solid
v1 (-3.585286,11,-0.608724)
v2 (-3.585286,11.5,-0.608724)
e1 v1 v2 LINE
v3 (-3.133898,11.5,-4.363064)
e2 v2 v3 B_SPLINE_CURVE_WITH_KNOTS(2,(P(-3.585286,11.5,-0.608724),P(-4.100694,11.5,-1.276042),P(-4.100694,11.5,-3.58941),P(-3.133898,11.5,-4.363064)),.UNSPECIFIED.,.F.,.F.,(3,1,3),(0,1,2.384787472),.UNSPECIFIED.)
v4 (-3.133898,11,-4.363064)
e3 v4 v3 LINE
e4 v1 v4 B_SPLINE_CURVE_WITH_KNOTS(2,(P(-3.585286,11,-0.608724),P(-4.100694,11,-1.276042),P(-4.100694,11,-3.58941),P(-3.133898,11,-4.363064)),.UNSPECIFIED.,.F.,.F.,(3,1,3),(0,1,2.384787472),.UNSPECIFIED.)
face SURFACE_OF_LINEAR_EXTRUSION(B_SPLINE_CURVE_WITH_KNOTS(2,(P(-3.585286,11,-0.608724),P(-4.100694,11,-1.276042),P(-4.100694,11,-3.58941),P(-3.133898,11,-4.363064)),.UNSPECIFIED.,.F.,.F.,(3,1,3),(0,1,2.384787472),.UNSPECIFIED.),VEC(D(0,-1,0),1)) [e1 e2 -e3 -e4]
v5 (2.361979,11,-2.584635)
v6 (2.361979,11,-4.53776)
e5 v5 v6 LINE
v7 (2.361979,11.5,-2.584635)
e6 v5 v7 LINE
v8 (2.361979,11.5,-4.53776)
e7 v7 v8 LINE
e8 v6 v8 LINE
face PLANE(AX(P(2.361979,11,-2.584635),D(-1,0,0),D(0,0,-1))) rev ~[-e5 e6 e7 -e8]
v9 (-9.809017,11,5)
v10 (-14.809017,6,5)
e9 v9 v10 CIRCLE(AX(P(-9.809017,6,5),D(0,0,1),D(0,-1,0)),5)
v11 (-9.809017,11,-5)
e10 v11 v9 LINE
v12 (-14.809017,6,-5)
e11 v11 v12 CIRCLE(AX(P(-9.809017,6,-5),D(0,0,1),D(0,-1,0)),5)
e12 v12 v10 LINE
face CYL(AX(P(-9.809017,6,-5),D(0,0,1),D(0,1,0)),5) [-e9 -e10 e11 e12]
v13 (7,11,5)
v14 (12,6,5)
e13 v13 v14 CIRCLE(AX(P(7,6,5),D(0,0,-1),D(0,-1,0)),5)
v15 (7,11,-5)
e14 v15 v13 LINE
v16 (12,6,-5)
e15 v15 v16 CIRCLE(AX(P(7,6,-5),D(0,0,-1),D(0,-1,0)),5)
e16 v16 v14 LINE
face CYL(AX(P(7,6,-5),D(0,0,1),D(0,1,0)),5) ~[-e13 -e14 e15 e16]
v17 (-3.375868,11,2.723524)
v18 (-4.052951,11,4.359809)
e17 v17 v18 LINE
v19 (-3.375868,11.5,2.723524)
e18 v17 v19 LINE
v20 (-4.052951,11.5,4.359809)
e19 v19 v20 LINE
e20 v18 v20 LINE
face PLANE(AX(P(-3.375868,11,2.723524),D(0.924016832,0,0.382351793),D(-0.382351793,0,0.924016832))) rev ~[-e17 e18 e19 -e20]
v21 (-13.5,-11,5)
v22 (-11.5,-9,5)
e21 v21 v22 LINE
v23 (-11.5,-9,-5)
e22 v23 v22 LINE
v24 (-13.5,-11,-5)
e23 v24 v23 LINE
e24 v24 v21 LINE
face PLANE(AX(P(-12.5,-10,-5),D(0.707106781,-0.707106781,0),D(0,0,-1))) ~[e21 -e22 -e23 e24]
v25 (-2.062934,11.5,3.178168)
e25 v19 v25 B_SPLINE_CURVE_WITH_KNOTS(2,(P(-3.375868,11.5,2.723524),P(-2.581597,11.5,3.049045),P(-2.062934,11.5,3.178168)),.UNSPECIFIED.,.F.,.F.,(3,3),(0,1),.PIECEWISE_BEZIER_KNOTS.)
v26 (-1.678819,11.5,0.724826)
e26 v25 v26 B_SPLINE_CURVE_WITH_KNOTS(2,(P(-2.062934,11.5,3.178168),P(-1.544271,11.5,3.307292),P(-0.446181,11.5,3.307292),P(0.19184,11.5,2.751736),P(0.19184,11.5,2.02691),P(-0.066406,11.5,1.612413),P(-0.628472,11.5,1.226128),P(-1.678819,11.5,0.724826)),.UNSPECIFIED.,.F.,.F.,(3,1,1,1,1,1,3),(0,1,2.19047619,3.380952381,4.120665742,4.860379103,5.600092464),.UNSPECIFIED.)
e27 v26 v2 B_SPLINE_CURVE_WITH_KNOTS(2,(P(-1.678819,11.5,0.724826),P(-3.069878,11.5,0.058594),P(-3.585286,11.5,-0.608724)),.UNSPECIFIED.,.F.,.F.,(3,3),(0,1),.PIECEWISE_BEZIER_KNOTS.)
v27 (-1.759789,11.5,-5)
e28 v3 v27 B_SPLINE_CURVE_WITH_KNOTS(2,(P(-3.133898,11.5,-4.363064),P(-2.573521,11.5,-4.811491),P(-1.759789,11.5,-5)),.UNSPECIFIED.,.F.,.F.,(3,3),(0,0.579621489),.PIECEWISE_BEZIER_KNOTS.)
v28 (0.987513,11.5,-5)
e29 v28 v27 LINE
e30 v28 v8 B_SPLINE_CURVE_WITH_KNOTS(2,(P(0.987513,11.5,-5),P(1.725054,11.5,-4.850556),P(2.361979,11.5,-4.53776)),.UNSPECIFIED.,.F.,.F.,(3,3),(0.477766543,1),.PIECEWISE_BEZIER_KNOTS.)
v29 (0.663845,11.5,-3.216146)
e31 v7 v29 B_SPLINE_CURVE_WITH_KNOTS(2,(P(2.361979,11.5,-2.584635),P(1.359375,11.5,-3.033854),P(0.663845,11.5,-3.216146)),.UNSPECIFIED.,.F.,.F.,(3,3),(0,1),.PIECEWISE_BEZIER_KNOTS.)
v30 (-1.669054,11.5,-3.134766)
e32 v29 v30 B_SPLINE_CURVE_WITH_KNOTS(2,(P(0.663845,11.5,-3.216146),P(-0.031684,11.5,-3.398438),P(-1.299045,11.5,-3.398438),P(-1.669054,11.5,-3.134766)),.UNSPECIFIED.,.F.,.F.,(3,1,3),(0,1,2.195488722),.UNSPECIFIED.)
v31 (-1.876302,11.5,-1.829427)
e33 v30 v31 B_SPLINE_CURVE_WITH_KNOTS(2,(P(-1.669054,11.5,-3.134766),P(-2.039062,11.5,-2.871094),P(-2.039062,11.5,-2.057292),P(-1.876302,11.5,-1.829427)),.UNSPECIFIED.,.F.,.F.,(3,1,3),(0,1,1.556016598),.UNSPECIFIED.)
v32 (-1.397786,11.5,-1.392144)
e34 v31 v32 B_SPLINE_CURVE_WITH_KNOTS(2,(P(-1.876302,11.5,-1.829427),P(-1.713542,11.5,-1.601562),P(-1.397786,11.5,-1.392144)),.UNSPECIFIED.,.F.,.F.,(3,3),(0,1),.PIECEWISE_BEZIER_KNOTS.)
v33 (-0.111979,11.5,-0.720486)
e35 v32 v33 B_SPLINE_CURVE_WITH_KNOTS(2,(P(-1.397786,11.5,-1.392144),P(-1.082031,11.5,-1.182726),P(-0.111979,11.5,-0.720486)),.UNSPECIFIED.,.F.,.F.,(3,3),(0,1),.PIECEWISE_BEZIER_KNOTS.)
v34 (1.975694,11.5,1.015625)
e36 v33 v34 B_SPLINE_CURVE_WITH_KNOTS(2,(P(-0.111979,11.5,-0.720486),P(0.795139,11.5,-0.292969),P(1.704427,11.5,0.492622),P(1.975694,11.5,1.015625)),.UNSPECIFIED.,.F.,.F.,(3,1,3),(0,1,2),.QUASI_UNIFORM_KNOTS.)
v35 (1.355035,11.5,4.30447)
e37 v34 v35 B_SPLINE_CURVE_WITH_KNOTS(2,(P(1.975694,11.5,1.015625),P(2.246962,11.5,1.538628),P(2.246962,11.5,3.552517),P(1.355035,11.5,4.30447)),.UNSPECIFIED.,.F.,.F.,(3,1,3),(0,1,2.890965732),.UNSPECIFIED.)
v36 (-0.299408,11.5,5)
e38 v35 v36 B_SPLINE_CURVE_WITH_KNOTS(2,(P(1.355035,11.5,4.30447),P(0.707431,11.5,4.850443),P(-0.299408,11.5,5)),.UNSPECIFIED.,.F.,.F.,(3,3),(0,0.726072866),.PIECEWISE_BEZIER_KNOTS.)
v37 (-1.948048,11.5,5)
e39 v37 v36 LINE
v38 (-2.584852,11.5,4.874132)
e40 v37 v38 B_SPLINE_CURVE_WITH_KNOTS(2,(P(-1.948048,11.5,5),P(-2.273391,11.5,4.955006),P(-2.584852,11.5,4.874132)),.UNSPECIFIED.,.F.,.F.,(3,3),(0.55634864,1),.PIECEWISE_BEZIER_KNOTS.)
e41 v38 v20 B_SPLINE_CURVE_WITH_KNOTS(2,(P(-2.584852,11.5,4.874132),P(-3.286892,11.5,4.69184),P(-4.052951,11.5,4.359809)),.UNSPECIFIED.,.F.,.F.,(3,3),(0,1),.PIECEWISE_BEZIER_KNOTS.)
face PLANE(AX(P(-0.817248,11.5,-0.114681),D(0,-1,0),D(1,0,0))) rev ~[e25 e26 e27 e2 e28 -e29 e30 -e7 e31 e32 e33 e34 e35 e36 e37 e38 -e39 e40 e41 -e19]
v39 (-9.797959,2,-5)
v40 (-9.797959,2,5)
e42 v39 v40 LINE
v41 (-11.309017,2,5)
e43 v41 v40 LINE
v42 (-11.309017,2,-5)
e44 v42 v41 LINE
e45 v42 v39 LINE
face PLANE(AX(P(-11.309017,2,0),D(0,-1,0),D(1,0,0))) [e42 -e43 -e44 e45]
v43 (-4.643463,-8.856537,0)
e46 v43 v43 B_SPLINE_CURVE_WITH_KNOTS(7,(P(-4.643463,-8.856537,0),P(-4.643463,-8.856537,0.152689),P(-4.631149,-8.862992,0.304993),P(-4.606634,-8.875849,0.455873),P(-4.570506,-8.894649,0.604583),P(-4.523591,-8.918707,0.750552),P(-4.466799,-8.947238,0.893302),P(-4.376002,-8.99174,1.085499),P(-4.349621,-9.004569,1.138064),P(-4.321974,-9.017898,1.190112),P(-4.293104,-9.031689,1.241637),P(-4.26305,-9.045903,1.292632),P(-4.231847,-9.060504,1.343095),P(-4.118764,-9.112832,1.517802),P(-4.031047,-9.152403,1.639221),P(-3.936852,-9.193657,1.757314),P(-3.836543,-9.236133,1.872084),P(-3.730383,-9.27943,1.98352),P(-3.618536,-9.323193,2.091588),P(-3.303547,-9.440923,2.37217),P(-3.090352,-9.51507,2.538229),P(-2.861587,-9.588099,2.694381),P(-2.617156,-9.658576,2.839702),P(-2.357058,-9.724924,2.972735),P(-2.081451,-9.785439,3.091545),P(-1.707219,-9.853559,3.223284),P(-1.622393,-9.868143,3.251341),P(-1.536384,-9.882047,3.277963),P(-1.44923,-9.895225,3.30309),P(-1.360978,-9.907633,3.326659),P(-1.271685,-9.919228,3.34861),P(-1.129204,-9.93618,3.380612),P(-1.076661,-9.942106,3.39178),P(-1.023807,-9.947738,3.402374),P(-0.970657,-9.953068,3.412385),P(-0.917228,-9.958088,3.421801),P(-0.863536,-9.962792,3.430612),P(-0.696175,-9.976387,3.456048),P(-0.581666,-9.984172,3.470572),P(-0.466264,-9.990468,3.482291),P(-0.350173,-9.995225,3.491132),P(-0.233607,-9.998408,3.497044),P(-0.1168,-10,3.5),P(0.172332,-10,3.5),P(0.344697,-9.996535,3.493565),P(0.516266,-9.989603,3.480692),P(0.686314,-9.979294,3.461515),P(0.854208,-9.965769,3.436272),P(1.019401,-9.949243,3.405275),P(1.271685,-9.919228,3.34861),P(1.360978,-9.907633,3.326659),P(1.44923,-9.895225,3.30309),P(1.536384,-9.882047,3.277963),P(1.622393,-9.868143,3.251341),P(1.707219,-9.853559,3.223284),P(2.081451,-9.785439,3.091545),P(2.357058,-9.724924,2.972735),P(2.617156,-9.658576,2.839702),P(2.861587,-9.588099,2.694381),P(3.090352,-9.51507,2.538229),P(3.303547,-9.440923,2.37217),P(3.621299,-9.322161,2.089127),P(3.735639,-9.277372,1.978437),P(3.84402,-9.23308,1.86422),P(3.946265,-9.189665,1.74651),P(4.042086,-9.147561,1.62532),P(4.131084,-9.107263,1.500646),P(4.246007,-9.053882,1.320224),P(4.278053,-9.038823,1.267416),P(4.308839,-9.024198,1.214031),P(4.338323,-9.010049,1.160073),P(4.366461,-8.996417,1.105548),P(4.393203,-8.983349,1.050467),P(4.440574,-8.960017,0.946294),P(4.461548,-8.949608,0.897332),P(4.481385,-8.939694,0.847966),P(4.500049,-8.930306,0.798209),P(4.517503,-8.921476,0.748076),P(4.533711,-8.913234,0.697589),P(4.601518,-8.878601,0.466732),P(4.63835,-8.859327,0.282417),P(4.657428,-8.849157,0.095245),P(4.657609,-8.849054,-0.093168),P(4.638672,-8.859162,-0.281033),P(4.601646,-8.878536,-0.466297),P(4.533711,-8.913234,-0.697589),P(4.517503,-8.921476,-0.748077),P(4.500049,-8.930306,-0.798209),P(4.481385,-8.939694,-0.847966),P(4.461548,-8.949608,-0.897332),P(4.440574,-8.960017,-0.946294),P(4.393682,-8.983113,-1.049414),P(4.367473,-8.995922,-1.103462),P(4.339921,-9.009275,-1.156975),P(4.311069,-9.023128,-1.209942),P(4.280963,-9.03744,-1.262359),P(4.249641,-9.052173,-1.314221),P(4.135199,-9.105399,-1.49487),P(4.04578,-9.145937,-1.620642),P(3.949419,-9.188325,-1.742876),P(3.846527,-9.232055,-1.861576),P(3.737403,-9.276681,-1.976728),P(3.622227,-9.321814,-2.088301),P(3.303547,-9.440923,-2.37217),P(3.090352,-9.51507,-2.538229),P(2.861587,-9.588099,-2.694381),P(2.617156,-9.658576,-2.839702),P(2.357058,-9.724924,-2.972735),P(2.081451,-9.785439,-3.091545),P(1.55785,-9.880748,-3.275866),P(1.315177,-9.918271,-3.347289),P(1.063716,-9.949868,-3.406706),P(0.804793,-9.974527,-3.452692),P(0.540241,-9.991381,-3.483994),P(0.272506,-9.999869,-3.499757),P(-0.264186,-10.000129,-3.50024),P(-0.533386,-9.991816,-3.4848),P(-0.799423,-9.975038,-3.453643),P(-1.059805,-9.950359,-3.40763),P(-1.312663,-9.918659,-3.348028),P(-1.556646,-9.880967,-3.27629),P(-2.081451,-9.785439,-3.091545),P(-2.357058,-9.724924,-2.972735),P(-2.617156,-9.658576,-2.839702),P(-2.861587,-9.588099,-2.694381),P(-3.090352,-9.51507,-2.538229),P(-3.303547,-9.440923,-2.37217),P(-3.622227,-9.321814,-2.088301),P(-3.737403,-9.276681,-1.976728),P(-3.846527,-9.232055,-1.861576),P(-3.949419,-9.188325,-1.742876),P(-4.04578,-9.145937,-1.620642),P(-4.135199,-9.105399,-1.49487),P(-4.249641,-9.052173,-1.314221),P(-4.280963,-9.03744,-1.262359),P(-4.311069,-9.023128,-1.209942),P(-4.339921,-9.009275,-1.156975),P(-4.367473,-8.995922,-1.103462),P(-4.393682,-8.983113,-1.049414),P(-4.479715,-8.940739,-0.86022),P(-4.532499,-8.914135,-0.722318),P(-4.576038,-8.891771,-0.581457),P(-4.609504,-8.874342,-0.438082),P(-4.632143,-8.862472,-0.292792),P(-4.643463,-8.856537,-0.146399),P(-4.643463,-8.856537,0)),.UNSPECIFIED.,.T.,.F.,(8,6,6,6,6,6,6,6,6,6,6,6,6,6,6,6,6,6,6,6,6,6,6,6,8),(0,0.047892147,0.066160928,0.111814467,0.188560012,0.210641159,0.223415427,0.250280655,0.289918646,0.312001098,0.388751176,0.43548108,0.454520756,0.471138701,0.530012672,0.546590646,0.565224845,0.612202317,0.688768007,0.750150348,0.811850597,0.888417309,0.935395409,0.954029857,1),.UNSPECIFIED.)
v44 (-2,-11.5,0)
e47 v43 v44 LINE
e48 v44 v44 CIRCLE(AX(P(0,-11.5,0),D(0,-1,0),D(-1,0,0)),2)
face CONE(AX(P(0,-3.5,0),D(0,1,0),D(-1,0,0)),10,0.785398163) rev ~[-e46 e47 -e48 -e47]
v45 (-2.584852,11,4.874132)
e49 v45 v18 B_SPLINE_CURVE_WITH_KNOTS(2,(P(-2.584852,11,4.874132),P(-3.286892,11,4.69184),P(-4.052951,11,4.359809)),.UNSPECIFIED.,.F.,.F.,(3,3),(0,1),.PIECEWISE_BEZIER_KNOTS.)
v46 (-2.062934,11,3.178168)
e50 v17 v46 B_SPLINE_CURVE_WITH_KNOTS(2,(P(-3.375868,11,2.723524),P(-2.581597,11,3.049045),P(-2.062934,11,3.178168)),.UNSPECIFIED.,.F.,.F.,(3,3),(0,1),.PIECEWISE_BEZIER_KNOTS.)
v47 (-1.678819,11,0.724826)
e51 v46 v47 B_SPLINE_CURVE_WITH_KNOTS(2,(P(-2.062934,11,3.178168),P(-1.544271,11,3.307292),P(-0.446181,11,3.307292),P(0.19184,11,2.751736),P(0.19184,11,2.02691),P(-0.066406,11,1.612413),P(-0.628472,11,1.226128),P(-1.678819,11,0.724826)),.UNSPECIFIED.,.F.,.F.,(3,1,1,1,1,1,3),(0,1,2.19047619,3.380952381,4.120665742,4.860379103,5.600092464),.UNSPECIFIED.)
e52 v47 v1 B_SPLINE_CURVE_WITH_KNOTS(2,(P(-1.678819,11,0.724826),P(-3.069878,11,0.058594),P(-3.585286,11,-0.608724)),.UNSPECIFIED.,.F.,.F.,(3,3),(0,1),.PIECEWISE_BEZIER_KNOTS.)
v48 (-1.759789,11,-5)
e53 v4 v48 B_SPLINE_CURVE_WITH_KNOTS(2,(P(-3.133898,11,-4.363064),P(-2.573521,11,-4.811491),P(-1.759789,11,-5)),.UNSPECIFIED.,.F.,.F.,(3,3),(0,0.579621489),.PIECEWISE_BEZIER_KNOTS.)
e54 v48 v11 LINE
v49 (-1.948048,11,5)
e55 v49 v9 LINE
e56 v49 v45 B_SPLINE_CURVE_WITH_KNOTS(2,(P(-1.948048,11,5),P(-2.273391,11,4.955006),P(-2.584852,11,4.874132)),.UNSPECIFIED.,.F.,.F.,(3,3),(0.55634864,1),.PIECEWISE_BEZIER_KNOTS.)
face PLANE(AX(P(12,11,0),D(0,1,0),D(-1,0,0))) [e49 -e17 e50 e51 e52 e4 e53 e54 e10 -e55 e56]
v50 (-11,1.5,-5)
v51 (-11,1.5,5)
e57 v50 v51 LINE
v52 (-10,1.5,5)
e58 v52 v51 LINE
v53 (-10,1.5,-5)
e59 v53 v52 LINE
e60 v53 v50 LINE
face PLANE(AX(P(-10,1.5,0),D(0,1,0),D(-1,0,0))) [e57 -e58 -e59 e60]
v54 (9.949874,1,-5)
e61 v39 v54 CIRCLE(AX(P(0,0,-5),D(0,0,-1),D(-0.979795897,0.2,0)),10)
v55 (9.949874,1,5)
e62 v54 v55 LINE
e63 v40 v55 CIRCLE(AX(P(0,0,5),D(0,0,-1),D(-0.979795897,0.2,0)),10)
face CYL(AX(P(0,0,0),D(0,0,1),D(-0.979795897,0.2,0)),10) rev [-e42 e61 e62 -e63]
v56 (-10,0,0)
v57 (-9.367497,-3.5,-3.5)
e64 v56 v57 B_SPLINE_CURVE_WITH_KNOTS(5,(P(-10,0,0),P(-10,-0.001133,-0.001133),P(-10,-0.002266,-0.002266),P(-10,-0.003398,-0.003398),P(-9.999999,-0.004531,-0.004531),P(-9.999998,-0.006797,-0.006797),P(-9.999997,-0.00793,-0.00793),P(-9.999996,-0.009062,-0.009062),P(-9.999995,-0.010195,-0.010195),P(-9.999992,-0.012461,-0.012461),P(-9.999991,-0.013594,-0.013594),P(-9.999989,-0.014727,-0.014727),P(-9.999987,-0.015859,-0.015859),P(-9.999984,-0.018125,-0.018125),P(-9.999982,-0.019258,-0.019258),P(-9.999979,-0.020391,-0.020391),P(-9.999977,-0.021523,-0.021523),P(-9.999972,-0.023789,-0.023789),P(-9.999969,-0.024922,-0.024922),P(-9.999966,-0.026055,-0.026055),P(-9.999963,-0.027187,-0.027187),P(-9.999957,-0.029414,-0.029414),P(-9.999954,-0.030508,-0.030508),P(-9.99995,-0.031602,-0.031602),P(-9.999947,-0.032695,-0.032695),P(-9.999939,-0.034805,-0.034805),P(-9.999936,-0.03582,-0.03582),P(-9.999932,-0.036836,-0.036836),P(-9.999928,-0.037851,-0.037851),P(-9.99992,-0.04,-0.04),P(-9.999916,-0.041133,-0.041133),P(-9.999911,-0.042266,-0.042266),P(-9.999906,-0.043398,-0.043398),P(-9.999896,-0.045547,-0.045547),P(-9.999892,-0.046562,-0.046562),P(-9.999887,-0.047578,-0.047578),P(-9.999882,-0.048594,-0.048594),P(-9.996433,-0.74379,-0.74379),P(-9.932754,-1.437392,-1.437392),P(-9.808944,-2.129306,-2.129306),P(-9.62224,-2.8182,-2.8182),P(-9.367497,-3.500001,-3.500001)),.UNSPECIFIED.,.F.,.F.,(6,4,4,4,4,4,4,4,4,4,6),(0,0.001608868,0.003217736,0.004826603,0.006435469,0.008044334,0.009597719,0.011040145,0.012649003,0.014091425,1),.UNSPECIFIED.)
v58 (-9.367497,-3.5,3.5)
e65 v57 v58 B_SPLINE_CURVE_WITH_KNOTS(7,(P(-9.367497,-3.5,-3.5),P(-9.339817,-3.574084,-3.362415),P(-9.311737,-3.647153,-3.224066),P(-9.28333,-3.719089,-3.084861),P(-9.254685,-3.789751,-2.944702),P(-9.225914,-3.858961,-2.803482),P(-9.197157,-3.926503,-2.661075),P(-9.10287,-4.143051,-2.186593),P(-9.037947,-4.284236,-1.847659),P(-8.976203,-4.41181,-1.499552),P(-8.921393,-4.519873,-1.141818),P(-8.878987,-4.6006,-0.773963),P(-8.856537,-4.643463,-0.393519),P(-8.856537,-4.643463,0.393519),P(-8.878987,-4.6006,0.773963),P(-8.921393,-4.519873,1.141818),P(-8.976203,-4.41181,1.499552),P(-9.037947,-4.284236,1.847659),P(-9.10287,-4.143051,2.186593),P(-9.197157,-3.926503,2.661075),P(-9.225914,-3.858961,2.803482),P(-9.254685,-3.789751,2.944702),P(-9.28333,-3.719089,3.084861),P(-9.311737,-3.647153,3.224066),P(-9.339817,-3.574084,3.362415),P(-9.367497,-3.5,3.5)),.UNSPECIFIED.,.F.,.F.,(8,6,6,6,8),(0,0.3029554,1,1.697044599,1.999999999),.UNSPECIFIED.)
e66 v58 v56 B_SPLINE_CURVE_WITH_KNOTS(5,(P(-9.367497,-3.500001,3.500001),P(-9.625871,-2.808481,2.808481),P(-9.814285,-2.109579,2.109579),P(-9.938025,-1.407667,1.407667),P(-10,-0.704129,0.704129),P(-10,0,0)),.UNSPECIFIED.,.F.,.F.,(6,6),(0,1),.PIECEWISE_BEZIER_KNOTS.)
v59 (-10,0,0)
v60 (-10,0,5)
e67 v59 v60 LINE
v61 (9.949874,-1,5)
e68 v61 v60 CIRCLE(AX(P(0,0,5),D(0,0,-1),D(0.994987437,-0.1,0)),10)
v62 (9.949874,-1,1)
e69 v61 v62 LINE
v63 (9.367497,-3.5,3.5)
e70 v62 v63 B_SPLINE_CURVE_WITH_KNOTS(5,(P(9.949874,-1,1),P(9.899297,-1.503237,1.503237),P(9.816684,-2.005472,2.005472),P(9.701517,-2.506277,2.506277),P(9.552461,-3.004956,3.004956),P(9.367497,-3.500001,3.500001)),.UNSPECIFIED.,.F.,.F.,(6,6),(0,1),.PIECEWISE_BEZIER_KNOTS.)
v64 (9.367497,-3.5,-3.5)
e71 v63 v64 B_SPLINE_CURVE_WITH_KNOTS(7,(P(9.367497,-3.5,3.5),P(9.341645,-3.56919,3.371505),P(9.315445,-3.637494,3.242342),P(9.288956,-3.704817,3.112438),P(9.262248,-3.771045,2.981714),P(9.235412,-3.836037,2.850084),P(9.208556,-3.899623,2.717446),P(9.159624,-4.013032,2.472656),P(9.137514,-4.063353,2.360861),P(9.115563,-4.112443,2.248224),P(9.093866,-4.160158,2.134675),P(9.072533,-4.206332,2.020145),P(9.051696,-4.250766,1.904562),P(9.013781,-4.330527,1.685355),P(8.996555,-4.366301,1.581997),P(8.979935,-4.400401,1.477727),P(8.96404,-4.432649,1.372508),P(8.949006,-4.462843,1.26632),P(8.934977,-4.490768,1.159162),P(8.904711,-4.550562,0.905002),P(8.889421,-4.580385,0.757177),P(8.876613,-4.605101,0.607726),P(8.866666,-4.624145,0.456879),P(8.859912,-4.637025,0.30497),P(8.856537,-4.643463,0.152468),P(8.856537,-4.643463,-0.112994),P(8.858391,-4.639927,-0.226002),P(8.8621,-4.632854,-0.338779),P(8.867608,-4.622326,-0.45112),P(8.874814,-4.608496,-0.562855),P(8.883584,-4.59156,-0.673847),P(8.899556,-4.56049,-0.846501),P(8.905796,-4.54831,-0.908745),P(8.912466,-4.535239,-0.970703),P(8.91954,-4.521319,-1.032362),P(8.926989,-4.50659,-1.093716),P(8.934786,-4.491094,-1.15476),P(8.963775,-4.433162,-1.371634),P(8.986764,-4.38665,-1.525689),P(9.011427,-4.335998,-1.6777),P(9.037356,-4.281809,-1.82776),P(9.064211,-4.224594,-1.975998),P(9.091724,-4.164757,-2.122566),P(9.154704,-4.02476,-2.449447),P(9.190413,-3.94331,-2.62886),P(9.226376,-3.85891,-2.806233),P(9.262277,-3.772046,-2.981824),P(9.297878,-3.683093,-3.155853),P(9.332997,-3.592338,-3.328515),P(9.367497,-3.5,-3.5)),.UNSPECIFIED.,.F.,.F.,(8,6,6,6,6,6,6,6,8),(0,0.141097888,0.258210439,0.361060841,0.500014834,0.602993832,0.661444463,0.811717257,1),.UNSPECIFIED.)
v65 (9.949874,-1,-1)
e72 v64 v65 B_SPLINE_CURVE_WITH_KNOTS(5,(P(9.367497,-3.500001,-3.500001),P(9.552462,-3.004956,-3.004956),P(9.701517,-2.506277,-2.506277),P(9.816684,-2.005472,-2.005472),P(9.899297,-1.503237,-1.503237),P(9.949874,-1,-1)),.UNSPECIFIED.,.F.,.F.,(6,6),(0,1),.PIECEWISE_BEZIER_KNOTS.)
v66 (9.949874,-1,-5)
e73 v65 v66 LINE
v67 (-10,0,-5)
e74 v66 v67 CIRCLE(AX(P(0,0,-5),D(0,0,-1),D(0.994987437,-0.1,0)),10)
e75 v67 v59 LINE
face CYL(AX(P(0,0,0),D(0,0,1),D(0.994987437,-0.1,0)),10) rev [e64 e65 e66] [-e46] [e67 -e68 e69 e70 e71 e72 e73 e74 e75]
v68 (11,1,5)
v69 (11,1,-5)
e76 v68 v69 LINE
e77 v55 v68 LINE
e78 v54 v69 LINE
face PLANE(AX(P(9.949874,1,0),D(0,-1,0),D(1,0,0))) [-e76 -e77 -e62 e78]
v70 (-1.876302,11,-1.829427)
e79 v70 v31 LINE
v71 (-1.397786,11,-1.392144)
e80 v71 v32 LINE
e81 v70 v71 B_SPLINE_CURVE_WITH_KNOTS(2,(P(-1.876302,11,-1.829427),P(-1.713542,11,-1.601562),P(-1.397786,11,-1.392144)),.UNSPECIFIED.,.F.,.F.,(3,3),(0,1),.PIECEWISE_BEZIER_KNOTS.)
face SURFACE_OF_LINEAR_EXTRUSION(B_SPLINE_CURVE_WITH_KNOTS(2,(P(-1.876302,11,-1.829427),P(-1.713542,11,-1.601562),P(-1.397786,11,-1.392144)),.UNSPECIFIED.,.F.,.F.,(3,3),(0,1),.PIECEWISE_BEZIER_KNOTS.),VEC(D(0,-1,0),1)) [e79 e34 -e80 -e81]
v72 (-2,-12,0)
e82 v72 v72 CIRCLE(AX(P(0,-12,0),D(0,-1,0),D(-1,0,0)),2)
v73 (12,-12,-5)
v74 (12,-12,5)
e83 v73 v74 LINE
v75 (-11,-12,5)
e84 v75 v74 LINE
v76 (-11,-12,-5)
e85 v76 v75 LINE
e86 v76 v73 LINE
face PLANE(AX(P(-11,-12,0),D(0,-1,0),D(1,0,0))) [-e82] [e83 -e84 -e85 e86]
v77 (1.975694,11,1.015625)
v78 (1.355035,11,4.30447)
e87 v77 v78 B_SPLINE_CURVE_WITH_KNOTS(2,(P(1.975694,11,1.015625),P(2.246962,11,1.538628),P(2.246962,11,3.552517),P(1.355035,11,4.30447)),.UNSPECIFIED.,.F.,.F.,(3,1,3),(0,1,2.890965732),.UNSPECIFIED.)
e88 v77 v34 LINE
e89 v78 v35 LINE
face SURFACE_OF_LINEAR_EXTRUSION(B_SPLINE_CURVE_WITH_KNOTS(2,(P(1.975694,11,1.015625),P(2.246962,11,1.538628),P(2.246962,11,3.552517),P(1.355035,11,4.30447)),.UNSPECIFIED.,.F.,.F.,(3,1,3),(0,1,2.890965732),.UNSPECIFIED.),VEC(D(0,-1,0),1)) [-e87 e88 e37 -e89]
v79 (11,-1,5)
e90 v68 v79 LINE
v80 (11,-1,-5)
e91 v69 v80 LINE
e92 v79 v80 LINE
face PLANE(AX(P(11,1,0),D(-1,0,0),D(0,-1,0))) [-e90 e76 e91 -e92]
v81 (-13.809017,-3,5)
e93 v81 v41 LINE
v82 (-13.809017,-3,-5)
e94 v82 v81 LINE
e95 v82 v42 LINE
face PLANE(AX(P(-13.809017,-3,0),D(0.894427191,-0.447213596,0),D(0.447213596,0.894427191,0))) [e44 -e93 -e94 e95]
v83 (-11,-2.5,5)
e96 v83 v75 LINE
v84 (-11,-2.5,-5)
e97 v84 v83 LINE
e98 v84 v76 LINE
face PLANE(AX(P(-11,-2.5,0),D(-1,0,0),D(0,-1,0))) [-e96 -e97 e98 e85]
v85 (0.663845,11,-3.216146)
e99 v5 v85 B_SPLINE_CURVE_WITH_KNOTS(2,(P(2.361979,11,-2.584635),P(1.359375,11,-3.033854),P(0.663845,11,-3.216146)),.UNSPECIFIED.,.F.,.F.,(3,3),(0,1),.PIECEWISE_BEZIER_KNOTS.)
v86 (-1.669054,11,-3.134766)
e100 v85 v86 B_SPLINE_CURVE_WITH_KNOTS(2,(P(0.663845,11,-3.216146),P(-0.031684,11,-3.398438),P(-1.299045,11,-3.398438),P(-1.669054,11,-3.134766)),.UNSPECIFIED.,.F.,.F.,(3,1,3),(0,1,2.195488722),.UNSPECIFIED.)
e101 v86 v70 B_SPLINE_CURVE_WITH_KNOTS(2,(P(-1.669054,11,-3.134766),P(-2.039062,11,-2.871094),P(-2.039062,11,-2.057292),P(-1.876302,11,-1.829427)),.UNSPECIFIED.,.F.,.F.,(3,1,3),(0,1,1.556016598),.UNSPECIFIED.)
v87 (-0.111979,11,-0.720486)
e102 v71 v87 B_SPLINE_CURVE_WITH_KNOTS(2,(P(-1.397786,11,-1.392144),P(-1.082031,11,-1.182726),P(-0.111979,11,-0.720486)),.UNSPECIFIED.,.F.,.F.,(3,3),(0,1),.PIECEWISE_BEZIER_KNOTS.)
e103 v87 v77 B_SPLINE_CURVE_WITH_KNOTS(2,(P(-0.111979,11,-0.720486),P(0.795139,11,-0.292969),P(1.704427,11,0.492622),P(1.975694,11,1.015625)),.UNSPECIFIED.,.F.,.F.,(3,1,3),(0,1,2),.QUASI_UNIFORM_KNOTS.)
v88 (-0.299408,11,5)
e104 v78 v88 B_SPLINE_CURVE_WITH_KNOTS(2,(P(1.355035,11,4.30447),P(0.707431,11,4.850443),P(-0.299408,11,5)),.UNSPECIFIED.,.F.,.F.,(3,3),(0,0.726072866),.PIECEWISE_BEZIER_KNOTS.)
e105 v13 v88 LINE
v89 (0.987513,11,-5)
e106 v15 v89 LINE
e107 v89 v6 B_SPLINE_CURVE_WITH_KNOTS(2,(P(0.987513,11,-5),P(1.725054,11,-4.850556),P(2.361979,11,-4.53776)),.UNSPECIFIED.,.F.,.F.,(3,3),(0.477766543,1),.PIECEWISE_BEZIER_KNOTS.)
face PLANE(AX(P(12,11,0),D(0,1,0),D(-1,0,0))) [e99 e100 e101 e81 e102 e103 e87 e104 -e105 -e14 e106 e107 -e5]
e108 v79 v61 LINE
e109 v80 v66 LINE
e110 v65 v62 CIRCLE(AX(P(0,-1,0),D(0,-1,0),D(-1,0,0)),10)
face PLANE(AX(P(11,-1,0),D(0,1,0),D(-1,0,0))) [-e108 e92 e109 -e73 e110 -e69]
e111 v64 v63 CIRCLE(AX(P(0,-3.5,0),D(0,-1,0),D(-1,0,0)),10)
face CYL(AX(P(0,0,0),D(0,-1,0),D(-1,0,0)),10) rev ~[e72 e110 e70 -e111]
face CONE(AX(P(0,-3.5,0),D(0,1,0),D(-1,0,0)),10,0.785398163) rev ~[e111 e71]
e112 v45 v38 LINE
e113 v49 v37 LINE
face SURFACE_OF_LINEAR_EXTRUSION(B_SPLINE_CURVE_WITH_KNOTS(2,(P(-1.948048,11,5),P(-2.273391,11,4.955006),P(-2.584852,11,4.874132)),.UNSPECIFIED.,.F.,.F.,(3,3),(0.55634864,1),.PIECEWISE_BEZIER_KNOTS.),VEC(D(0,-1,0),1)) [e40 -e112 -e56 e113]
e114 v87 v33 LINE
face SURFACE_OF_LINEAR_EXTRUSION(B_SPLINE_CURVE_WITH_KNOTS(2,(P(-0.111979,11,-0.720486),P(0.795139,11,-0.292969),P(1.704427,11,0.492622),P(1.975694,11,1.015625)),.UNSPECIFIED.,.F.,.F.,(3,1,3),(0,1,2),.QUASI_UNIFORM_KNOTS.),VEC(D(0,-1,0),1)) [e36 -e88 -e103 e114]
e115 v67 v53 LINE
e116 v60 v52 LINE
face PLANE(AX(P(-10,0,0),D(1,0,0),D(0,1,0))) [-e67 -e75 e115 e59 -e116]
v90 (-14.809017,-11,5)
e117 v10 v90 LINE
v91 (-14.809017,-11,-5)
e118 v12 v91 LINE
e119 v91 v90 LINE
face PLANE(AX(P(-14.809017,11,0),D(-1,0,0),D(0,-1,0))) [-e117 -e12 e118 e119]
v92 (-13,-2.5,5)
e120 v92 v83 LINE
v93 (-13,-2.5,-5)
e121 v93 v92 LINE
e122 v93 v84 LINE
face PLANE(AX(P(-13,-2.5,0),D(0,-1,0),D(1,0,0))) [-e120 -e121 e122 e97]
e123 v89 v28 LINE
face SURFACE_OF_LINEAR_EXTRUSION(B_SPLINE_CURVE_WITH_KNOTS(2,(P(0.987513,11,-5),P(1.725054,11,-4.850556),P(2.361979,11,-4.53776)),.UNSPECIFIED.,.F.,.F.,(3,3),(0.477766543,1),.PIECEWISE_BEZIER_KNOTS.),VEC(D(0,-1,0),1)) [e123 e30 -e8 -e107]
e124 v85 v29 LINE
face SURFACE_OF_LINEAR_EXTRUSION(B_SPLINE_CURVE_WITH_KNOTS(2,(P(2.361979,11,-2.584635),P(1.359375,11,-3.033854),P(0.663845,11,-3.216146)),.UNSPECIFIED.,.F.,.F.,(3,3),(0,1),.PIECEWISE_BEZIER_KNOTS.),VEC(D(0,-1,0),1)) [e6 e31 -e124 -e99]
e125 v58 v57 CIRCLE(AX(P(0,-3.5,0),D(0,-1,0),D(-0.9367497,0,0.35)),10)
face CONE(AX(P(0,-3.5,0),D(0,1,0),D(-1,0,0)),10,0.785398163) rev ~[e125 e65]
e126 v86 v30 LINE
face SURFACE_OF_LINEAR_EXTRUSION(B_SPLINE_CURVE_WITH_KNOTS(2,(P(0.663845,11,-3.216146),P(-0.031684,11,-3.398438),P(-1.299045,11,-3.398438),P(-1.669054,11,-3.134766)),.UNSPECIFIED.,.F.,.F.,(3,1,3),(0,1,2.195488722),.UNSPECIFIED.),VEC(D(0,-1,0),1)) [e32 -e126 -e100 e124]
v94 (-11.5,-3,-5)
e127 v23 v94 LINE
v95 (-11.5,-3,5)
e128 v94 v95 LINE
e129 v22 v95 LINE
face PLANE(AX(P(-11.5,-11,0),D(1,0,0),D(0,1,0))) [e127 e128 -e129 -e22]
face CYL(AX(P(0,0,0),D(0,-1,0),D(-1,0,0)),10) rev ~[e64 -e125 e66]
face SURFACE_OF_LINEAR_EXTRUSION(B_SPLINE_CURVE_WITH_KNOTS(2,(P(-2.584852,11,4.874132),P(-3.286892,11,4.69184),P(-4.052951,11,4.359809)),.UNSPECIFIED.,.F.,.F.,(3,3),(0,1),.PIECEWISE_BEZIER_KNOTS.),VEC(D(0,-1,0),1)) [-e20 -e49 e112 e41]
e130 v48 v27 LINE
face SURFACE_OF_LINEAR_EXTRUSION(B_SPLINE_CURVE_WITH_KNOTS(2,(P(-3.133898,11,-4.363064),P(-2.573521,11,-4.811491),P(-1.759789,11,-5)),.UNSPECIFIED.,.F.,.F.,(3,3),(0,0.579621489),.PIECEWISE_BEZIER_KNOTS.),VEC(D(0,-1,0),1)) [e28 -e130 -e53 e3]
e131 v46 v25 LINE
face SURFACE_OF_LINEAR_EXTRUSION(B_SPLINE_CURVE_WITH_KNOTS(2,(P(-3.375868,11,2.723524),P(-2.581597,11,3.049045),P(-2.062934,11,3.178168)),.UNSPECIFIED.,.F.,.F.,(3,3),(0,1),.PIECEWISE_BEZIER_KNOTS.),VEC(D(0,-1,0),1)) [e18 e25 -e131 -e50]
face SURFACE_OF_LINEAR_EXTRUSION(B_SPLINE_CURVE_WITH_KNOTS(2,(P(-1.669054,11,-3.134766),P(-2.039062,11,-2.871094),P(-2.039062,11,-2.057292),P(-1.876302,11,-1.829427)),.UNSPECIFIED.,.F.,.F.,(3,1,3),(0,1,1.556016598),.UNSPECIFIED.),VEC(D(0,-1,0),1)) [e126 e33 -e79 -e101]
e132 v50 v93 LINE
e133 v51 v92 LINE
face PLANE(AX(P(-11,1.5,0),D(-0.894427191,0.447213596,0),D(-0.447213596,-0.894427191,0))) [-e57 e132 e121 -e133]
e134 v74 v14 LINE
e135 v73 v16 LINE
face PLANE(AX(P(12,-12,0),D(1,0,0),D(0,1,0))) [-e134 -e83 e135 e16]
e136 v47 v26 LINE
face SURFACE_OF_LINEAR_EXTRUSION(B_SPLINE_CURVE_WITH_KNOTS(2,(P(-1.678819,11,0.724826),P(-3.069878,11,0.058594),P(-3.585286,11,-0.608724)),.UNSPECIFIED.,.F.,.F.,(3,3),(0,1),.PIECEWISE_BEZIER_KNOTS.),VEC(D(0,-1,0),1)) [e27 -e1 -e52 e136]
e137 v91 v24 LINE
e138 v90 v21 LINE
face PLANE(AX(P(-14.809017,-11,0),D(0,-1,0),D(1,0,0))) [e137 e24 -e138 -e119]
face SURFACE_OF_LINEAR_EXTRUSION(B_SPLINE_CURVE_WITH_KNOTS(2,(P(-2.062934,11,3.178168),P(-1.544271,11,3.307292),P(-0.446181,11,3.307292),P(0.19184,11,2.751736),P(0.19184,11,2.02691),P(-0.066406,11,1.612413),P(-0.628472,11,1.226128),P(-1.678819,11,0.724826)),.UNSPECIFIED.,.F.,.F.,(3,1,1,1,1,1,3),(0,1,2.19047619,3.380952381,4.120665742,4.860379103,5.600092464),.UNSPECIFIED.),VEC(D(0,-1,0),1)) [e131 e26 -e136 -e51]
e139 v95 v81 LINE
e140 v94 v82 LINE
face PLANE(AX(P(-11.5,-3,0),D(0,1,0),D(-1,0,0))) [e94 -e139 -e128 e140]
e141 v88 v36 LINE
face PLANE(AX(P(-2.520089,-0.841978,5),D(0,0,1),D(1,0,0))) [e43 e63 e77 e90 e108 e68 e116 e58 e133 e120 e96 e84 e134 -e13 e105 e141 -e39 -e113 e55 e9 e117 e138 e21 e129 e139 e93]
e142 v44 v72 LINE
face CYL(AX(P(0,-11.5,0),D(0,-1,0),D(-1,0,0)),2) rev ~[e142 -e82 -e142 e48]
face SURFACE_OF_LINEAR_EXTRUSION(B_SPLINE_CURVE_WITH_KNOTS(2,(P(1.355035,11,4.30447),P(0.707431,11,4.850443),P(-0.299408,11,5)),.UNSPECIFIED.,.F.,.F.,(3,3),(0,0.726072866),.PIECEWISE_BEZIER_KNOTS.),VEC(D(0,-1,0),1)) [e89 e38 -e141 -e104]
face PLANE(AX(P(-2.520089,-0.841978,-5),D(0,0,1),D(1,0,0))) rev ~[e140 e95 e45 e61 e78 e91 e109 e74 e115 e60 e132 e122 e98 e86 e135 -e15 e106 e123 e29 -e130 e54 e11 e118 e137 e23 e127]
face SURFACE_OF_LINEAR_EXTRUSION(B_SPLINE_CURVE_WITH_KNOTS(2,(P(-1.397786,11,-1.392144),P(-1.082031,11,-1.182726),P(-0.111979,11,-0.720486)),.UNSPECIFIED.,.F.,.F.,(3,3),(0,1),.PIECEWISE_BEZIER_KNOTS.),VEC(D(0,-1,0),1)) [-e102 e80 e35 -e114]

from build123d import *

# Parameters (mm, degrees)
F1_DEPTH = 5
F4_SIZE  = 2
F5_R     = 5
F6_R     = 5
F8_DEPTH = 0.5


with BuildPart() as f1:
    # F0 (on Top) → F1 (new body, symmetric)
    with BuildSketch(Plane.XY):
        with BuildLine():
            ThreePointArc((9.9498743711, -1), (-0.5006277506, -9.9874607311), (-10, 0))
            Line((-10, 0), (-10, 1.5))
            Line((-10, 1.5), (-11, 1.5))
            Line((-11, 1.5), (-13, -2.5))
            Line((-13, -2.5), (-11, -2.5))
            Line((-11, -2.5), (-11, -12))
            Line((-11, -12), (12, -12))
            Line((12, -12), (12, 11))
            Line((12, 11), (-14.8090169944, 11))
            Line((-14.8090169944, 11), (-14.8090169944, -11))
            Line((-14.8090169944, -11), (-11.5, -11))
            Line((-11.5, -11), (-11.5, -3))
            Line((-11.5, -3), (-13.8090169944, -3))
            Line((-13.8090169944, -3), (-11.3090169944, 2))
            Line((-11.3090169944, 2), (-9.7979589711, 2))
            ThreePointArc((-9.7979589711, 2), (0.5057366629, 9.9872033337), (9.9498743711, 1))
            Line((9.9498743711, 1), (11, 1))
            Line((11, 1), (11, -1))
            Line((11, -1), (9.9498743711, -1))
        make_face()
    extrude(amount=F1_DEPTH, both=True)

    # F2 (on Top) → F3 (revolve, cut)
    with BuildSketch(Plane.XY):
        Polygon((0, 0), (-10, 0), (-10, -3.5), (-2, -11.5), (-2, -12), (0, -12), align=None)
    revolve(axis=Axis((0, -5.25, 0), (0, -1, 0)), mode=Mode.SUBTRACT)

    # F4
    f4_edges = [f1.edges().sort_by_distance(p)[0] for p in [
        (-11.5, -11, 0),
    ]]
    chamfer(f4_edges, length=F4_SIZE)

    # F5
    f5_edges = [f1.edges().sort_by_distance(p)[0] for p in [
        (12, 11, 0),
    ]]
    fillet(f5_edges, radius=F5_R)

    # F6
    f6_edges = [f1.edges().sort_by_distance(p)[0] for p in [
        (-14.809017, 11, 0),
    ]]
    fillet(f6_edges, radius=F6_R)

    # F7 (on face) → F8 (join)
    with BuildSketch(Plane(origin=(0, 11, 0), x_dir=(-1, 0, 0), z_dir=(0, 1, 0))):
        with BuildLine():
            add(Edge.make_bspline(
                [(4.1006944444, -2.24609375), (4.1006944444, -3.5894097222), (3.1338975694, -4.3630642361)],
                knots=[0, 0, 0, 1, 1, 1], degree=2))
            add(Edge.make_bspline(
                [(3.5852864583, -0.6087239583), (4.1006944444, -1.2760416667), (4.1006944444, -2.24609375)],
                knots=[0, 0, 0, 1, 1, 1], degree=2))
            add(Edge.make_bspline(
                [(1.6788194444, 0.7248263889), (3.0698784722, 0.05859375), (3.5852864583, -0.6087239583)],
                knots=[0, 0, 0, 1, 1, 1], degree=2))
            add(Edge.make_bspline(
                [(0.3474392361, 1.4192708333), (0.6284722222, 1.2261284722), (1.6788194444, 0.7248263889)],
                knots=[0, 0, 0, 1, 1, 1], degree=2))
            add(Edge.make_bspline(
                [(-0.0627170139, 1.8196614583), (0.06640625, 1.6124131944), (0.3474392361, 1.4192708333)],
                knots=[0, 0, 0, 1, 1, 1], degree=2))
            add(Edge.make_bspline(
                [(-0.1918402778, 2.3046875), (-0.1918402778, 2.0269097222), (-0.0627170139, 1.8196614583)],
                knots=[0, 0, 0, 1, 1, 1], degree=2))
            add(Edge.make_bspline(
                [(0.1271701389, 3.0295138889), (-0.1918402778, 2.7517361111), (-0.1918402778, 2.3046875)],
                knots=[0, 0, 0, 1, 1, 1], degree=2))
            add(Edge.make_bspline(
                [(1.04296875, 3.3072916667), (0.4461805556, 3.3072916667), (0.1271701389, 3.0295138889)],
                knots=[0, 0, 0, 1, 1, 1], degree=2))
            add(Edge.make_bspline(
                [(2.0629340278, 3.1781684028), (1.5442708333, 3.3072916667), (1.04296875, 3.3072916667)],
                knots=[0, 0, 0, 1, 1, 1], degree=2))
            add(Edge.make_bspline(
                [(3.3758680556, 2.7235243056), (2.5815972222, 3.0490451389), (2.0629340278, 3.1781684028)],
                knots=[0, 0, 0, 1, 1, 1], degree=2))
            Line((3.3758680556, 2.7235243056), (4.0529513889, 4.3598090278))
            add(Edge.make_bspline(
                [(2.5848524306, 4.8741319444), (3.2868923611, 4.6918402778), (4.0529513889, 4.3598090278)],
                knots=[0, 0, 0, 1, 1, 1], degree=2))
            add(Edge.make_bspline(
                [(1.9480484116, 5), (2.2733914608, 4.9550058902), (2.5848524306, 4.8741319444)],
                knots=[0.5563486403, 0.5563486403, 0.5563486403, 1, 1, 1], degree=2))
            Line((1.9480484116, 5), (0.2994075141, 5))
            add(Edge.make_bspline(
                [(-1.3550347222, 4.3044704861), (-0.707430669, 4.8504432463), (0.2994075141, 5)],
                knots=[0, 0, 0, 0.7260728655, 0.7260728655, 0.7260728655], degree=2))
            add(Edge.make_bspline(
                [(-2.2469618056, 2.2352430556), (-2.2469618056, 3.5525173611), (-1.3550347222, 4.3044704861)],
                knots=[0, 0, 0, 1, 1, 1], degree=2))
            add(Edge.make_bspline(
                [(-1.9756944444, 1.015625), (-2.2469618056, 1.5386284722), (-2.2469618056, 2.2352430556)],
                knots=[0, 0, 0, 1, 1, 1], degree=2))
            add(Edge.make_bspline(
                [(-1.2497829861, 0.0998263889), (-1.7044270833, 0.4926215278), (-1.9756944444, 1.015625)],
                knots=[0, 0, 0, 1, 1, 1], degree=2))
            add(Edge.make_bspline(
                [(0.1119791667, -0.7204861111), (-0.7951388889, -0.29296875), (-1.2497829861, 0.0998263889)],
                knots=[0, 0, 0, 1, 1, 1], degree=2))
            add(Edge.make_bspline(
                [(1.3977864583, -1.3921440972), (1.08203125, -1.1827256944), (0.1119791667, -0.7204861111)],
                knots=[0, 0, 0, 1, 1, 1], degree=2))
            add(Edge.make_bspline(
                [(1.8763020833, -1.8294270833), (1.7135416667, -1.6015625), (1.3977864583, -1.3921440972)],
                knots=[0, 0, 0, 1, 1, 1], degree=2))
            add(Edge.make_bspline(
                [(2.0390625, -2.3480902778), (2.0390625, -2.0572916667), (1.8763020833, -1.8294270833)],
                knots=[0, 0, 0, 1, 1, 1], degree=2))
            add(Edge.make_bspline(
                [(1.6690538194, -3.134765625), (2.0390625, -2.87109375), (2.0390625, -2.3480902778)],
                knots=[0, 0, 0, 1, 1, 1], degree=2))
            add(Edge.make_bspline(
                [(0.6089409722, -3.3984375), (1.2990451389, -3.3984375), (1.6690538194, -3.134765625)],
                knots=[0, 0, 0, 1, 1, 1], degree=2))
            add(Edge.make_bspline(
                [(-0.6638454861, -3.2161458333), (0.0316840278, -3.3984375), (0.6089409722, -3.3984375)],
                knots=[0, 0, 0, 1, 1, 1], degree=2))
            add(Edge.make_bspline(
                [(-2.3619791667, -2.5846354167), (-1.359375, -3.0338541667), (-0.6638454861, -3.2161458333)],
                knots=[0, 0, 0, 1, 1, 1], degree=2))
            Line((-2.3619791667, -2.5846354167), (-2.3619791667, -4.5377604167))
            add(Edge.make_bspline(
                [(-0.987512741, -5), (-1.7250538132, -4.8505564977), (-2.3619791667, -4.5377604167)],
                knots=[0.477766543, 0.477766543, 0.477766543, 1, 1, 1], degree=2))
            Line((-0.987512741, -5), (1.7597890221, -5))
            add(Edge.make_bspline(
                [(3.1338975694, -4.3630642361), (2.5735213253, -4.8114910174), (1.7597890221, -5)],
                knots=[0, 0, 0, 0.5796214889, 0.5796214889, 0.5796214889], degree=2))
        make_face()
    extrude(amount=F8_DEPTH)


solid = f1.part
